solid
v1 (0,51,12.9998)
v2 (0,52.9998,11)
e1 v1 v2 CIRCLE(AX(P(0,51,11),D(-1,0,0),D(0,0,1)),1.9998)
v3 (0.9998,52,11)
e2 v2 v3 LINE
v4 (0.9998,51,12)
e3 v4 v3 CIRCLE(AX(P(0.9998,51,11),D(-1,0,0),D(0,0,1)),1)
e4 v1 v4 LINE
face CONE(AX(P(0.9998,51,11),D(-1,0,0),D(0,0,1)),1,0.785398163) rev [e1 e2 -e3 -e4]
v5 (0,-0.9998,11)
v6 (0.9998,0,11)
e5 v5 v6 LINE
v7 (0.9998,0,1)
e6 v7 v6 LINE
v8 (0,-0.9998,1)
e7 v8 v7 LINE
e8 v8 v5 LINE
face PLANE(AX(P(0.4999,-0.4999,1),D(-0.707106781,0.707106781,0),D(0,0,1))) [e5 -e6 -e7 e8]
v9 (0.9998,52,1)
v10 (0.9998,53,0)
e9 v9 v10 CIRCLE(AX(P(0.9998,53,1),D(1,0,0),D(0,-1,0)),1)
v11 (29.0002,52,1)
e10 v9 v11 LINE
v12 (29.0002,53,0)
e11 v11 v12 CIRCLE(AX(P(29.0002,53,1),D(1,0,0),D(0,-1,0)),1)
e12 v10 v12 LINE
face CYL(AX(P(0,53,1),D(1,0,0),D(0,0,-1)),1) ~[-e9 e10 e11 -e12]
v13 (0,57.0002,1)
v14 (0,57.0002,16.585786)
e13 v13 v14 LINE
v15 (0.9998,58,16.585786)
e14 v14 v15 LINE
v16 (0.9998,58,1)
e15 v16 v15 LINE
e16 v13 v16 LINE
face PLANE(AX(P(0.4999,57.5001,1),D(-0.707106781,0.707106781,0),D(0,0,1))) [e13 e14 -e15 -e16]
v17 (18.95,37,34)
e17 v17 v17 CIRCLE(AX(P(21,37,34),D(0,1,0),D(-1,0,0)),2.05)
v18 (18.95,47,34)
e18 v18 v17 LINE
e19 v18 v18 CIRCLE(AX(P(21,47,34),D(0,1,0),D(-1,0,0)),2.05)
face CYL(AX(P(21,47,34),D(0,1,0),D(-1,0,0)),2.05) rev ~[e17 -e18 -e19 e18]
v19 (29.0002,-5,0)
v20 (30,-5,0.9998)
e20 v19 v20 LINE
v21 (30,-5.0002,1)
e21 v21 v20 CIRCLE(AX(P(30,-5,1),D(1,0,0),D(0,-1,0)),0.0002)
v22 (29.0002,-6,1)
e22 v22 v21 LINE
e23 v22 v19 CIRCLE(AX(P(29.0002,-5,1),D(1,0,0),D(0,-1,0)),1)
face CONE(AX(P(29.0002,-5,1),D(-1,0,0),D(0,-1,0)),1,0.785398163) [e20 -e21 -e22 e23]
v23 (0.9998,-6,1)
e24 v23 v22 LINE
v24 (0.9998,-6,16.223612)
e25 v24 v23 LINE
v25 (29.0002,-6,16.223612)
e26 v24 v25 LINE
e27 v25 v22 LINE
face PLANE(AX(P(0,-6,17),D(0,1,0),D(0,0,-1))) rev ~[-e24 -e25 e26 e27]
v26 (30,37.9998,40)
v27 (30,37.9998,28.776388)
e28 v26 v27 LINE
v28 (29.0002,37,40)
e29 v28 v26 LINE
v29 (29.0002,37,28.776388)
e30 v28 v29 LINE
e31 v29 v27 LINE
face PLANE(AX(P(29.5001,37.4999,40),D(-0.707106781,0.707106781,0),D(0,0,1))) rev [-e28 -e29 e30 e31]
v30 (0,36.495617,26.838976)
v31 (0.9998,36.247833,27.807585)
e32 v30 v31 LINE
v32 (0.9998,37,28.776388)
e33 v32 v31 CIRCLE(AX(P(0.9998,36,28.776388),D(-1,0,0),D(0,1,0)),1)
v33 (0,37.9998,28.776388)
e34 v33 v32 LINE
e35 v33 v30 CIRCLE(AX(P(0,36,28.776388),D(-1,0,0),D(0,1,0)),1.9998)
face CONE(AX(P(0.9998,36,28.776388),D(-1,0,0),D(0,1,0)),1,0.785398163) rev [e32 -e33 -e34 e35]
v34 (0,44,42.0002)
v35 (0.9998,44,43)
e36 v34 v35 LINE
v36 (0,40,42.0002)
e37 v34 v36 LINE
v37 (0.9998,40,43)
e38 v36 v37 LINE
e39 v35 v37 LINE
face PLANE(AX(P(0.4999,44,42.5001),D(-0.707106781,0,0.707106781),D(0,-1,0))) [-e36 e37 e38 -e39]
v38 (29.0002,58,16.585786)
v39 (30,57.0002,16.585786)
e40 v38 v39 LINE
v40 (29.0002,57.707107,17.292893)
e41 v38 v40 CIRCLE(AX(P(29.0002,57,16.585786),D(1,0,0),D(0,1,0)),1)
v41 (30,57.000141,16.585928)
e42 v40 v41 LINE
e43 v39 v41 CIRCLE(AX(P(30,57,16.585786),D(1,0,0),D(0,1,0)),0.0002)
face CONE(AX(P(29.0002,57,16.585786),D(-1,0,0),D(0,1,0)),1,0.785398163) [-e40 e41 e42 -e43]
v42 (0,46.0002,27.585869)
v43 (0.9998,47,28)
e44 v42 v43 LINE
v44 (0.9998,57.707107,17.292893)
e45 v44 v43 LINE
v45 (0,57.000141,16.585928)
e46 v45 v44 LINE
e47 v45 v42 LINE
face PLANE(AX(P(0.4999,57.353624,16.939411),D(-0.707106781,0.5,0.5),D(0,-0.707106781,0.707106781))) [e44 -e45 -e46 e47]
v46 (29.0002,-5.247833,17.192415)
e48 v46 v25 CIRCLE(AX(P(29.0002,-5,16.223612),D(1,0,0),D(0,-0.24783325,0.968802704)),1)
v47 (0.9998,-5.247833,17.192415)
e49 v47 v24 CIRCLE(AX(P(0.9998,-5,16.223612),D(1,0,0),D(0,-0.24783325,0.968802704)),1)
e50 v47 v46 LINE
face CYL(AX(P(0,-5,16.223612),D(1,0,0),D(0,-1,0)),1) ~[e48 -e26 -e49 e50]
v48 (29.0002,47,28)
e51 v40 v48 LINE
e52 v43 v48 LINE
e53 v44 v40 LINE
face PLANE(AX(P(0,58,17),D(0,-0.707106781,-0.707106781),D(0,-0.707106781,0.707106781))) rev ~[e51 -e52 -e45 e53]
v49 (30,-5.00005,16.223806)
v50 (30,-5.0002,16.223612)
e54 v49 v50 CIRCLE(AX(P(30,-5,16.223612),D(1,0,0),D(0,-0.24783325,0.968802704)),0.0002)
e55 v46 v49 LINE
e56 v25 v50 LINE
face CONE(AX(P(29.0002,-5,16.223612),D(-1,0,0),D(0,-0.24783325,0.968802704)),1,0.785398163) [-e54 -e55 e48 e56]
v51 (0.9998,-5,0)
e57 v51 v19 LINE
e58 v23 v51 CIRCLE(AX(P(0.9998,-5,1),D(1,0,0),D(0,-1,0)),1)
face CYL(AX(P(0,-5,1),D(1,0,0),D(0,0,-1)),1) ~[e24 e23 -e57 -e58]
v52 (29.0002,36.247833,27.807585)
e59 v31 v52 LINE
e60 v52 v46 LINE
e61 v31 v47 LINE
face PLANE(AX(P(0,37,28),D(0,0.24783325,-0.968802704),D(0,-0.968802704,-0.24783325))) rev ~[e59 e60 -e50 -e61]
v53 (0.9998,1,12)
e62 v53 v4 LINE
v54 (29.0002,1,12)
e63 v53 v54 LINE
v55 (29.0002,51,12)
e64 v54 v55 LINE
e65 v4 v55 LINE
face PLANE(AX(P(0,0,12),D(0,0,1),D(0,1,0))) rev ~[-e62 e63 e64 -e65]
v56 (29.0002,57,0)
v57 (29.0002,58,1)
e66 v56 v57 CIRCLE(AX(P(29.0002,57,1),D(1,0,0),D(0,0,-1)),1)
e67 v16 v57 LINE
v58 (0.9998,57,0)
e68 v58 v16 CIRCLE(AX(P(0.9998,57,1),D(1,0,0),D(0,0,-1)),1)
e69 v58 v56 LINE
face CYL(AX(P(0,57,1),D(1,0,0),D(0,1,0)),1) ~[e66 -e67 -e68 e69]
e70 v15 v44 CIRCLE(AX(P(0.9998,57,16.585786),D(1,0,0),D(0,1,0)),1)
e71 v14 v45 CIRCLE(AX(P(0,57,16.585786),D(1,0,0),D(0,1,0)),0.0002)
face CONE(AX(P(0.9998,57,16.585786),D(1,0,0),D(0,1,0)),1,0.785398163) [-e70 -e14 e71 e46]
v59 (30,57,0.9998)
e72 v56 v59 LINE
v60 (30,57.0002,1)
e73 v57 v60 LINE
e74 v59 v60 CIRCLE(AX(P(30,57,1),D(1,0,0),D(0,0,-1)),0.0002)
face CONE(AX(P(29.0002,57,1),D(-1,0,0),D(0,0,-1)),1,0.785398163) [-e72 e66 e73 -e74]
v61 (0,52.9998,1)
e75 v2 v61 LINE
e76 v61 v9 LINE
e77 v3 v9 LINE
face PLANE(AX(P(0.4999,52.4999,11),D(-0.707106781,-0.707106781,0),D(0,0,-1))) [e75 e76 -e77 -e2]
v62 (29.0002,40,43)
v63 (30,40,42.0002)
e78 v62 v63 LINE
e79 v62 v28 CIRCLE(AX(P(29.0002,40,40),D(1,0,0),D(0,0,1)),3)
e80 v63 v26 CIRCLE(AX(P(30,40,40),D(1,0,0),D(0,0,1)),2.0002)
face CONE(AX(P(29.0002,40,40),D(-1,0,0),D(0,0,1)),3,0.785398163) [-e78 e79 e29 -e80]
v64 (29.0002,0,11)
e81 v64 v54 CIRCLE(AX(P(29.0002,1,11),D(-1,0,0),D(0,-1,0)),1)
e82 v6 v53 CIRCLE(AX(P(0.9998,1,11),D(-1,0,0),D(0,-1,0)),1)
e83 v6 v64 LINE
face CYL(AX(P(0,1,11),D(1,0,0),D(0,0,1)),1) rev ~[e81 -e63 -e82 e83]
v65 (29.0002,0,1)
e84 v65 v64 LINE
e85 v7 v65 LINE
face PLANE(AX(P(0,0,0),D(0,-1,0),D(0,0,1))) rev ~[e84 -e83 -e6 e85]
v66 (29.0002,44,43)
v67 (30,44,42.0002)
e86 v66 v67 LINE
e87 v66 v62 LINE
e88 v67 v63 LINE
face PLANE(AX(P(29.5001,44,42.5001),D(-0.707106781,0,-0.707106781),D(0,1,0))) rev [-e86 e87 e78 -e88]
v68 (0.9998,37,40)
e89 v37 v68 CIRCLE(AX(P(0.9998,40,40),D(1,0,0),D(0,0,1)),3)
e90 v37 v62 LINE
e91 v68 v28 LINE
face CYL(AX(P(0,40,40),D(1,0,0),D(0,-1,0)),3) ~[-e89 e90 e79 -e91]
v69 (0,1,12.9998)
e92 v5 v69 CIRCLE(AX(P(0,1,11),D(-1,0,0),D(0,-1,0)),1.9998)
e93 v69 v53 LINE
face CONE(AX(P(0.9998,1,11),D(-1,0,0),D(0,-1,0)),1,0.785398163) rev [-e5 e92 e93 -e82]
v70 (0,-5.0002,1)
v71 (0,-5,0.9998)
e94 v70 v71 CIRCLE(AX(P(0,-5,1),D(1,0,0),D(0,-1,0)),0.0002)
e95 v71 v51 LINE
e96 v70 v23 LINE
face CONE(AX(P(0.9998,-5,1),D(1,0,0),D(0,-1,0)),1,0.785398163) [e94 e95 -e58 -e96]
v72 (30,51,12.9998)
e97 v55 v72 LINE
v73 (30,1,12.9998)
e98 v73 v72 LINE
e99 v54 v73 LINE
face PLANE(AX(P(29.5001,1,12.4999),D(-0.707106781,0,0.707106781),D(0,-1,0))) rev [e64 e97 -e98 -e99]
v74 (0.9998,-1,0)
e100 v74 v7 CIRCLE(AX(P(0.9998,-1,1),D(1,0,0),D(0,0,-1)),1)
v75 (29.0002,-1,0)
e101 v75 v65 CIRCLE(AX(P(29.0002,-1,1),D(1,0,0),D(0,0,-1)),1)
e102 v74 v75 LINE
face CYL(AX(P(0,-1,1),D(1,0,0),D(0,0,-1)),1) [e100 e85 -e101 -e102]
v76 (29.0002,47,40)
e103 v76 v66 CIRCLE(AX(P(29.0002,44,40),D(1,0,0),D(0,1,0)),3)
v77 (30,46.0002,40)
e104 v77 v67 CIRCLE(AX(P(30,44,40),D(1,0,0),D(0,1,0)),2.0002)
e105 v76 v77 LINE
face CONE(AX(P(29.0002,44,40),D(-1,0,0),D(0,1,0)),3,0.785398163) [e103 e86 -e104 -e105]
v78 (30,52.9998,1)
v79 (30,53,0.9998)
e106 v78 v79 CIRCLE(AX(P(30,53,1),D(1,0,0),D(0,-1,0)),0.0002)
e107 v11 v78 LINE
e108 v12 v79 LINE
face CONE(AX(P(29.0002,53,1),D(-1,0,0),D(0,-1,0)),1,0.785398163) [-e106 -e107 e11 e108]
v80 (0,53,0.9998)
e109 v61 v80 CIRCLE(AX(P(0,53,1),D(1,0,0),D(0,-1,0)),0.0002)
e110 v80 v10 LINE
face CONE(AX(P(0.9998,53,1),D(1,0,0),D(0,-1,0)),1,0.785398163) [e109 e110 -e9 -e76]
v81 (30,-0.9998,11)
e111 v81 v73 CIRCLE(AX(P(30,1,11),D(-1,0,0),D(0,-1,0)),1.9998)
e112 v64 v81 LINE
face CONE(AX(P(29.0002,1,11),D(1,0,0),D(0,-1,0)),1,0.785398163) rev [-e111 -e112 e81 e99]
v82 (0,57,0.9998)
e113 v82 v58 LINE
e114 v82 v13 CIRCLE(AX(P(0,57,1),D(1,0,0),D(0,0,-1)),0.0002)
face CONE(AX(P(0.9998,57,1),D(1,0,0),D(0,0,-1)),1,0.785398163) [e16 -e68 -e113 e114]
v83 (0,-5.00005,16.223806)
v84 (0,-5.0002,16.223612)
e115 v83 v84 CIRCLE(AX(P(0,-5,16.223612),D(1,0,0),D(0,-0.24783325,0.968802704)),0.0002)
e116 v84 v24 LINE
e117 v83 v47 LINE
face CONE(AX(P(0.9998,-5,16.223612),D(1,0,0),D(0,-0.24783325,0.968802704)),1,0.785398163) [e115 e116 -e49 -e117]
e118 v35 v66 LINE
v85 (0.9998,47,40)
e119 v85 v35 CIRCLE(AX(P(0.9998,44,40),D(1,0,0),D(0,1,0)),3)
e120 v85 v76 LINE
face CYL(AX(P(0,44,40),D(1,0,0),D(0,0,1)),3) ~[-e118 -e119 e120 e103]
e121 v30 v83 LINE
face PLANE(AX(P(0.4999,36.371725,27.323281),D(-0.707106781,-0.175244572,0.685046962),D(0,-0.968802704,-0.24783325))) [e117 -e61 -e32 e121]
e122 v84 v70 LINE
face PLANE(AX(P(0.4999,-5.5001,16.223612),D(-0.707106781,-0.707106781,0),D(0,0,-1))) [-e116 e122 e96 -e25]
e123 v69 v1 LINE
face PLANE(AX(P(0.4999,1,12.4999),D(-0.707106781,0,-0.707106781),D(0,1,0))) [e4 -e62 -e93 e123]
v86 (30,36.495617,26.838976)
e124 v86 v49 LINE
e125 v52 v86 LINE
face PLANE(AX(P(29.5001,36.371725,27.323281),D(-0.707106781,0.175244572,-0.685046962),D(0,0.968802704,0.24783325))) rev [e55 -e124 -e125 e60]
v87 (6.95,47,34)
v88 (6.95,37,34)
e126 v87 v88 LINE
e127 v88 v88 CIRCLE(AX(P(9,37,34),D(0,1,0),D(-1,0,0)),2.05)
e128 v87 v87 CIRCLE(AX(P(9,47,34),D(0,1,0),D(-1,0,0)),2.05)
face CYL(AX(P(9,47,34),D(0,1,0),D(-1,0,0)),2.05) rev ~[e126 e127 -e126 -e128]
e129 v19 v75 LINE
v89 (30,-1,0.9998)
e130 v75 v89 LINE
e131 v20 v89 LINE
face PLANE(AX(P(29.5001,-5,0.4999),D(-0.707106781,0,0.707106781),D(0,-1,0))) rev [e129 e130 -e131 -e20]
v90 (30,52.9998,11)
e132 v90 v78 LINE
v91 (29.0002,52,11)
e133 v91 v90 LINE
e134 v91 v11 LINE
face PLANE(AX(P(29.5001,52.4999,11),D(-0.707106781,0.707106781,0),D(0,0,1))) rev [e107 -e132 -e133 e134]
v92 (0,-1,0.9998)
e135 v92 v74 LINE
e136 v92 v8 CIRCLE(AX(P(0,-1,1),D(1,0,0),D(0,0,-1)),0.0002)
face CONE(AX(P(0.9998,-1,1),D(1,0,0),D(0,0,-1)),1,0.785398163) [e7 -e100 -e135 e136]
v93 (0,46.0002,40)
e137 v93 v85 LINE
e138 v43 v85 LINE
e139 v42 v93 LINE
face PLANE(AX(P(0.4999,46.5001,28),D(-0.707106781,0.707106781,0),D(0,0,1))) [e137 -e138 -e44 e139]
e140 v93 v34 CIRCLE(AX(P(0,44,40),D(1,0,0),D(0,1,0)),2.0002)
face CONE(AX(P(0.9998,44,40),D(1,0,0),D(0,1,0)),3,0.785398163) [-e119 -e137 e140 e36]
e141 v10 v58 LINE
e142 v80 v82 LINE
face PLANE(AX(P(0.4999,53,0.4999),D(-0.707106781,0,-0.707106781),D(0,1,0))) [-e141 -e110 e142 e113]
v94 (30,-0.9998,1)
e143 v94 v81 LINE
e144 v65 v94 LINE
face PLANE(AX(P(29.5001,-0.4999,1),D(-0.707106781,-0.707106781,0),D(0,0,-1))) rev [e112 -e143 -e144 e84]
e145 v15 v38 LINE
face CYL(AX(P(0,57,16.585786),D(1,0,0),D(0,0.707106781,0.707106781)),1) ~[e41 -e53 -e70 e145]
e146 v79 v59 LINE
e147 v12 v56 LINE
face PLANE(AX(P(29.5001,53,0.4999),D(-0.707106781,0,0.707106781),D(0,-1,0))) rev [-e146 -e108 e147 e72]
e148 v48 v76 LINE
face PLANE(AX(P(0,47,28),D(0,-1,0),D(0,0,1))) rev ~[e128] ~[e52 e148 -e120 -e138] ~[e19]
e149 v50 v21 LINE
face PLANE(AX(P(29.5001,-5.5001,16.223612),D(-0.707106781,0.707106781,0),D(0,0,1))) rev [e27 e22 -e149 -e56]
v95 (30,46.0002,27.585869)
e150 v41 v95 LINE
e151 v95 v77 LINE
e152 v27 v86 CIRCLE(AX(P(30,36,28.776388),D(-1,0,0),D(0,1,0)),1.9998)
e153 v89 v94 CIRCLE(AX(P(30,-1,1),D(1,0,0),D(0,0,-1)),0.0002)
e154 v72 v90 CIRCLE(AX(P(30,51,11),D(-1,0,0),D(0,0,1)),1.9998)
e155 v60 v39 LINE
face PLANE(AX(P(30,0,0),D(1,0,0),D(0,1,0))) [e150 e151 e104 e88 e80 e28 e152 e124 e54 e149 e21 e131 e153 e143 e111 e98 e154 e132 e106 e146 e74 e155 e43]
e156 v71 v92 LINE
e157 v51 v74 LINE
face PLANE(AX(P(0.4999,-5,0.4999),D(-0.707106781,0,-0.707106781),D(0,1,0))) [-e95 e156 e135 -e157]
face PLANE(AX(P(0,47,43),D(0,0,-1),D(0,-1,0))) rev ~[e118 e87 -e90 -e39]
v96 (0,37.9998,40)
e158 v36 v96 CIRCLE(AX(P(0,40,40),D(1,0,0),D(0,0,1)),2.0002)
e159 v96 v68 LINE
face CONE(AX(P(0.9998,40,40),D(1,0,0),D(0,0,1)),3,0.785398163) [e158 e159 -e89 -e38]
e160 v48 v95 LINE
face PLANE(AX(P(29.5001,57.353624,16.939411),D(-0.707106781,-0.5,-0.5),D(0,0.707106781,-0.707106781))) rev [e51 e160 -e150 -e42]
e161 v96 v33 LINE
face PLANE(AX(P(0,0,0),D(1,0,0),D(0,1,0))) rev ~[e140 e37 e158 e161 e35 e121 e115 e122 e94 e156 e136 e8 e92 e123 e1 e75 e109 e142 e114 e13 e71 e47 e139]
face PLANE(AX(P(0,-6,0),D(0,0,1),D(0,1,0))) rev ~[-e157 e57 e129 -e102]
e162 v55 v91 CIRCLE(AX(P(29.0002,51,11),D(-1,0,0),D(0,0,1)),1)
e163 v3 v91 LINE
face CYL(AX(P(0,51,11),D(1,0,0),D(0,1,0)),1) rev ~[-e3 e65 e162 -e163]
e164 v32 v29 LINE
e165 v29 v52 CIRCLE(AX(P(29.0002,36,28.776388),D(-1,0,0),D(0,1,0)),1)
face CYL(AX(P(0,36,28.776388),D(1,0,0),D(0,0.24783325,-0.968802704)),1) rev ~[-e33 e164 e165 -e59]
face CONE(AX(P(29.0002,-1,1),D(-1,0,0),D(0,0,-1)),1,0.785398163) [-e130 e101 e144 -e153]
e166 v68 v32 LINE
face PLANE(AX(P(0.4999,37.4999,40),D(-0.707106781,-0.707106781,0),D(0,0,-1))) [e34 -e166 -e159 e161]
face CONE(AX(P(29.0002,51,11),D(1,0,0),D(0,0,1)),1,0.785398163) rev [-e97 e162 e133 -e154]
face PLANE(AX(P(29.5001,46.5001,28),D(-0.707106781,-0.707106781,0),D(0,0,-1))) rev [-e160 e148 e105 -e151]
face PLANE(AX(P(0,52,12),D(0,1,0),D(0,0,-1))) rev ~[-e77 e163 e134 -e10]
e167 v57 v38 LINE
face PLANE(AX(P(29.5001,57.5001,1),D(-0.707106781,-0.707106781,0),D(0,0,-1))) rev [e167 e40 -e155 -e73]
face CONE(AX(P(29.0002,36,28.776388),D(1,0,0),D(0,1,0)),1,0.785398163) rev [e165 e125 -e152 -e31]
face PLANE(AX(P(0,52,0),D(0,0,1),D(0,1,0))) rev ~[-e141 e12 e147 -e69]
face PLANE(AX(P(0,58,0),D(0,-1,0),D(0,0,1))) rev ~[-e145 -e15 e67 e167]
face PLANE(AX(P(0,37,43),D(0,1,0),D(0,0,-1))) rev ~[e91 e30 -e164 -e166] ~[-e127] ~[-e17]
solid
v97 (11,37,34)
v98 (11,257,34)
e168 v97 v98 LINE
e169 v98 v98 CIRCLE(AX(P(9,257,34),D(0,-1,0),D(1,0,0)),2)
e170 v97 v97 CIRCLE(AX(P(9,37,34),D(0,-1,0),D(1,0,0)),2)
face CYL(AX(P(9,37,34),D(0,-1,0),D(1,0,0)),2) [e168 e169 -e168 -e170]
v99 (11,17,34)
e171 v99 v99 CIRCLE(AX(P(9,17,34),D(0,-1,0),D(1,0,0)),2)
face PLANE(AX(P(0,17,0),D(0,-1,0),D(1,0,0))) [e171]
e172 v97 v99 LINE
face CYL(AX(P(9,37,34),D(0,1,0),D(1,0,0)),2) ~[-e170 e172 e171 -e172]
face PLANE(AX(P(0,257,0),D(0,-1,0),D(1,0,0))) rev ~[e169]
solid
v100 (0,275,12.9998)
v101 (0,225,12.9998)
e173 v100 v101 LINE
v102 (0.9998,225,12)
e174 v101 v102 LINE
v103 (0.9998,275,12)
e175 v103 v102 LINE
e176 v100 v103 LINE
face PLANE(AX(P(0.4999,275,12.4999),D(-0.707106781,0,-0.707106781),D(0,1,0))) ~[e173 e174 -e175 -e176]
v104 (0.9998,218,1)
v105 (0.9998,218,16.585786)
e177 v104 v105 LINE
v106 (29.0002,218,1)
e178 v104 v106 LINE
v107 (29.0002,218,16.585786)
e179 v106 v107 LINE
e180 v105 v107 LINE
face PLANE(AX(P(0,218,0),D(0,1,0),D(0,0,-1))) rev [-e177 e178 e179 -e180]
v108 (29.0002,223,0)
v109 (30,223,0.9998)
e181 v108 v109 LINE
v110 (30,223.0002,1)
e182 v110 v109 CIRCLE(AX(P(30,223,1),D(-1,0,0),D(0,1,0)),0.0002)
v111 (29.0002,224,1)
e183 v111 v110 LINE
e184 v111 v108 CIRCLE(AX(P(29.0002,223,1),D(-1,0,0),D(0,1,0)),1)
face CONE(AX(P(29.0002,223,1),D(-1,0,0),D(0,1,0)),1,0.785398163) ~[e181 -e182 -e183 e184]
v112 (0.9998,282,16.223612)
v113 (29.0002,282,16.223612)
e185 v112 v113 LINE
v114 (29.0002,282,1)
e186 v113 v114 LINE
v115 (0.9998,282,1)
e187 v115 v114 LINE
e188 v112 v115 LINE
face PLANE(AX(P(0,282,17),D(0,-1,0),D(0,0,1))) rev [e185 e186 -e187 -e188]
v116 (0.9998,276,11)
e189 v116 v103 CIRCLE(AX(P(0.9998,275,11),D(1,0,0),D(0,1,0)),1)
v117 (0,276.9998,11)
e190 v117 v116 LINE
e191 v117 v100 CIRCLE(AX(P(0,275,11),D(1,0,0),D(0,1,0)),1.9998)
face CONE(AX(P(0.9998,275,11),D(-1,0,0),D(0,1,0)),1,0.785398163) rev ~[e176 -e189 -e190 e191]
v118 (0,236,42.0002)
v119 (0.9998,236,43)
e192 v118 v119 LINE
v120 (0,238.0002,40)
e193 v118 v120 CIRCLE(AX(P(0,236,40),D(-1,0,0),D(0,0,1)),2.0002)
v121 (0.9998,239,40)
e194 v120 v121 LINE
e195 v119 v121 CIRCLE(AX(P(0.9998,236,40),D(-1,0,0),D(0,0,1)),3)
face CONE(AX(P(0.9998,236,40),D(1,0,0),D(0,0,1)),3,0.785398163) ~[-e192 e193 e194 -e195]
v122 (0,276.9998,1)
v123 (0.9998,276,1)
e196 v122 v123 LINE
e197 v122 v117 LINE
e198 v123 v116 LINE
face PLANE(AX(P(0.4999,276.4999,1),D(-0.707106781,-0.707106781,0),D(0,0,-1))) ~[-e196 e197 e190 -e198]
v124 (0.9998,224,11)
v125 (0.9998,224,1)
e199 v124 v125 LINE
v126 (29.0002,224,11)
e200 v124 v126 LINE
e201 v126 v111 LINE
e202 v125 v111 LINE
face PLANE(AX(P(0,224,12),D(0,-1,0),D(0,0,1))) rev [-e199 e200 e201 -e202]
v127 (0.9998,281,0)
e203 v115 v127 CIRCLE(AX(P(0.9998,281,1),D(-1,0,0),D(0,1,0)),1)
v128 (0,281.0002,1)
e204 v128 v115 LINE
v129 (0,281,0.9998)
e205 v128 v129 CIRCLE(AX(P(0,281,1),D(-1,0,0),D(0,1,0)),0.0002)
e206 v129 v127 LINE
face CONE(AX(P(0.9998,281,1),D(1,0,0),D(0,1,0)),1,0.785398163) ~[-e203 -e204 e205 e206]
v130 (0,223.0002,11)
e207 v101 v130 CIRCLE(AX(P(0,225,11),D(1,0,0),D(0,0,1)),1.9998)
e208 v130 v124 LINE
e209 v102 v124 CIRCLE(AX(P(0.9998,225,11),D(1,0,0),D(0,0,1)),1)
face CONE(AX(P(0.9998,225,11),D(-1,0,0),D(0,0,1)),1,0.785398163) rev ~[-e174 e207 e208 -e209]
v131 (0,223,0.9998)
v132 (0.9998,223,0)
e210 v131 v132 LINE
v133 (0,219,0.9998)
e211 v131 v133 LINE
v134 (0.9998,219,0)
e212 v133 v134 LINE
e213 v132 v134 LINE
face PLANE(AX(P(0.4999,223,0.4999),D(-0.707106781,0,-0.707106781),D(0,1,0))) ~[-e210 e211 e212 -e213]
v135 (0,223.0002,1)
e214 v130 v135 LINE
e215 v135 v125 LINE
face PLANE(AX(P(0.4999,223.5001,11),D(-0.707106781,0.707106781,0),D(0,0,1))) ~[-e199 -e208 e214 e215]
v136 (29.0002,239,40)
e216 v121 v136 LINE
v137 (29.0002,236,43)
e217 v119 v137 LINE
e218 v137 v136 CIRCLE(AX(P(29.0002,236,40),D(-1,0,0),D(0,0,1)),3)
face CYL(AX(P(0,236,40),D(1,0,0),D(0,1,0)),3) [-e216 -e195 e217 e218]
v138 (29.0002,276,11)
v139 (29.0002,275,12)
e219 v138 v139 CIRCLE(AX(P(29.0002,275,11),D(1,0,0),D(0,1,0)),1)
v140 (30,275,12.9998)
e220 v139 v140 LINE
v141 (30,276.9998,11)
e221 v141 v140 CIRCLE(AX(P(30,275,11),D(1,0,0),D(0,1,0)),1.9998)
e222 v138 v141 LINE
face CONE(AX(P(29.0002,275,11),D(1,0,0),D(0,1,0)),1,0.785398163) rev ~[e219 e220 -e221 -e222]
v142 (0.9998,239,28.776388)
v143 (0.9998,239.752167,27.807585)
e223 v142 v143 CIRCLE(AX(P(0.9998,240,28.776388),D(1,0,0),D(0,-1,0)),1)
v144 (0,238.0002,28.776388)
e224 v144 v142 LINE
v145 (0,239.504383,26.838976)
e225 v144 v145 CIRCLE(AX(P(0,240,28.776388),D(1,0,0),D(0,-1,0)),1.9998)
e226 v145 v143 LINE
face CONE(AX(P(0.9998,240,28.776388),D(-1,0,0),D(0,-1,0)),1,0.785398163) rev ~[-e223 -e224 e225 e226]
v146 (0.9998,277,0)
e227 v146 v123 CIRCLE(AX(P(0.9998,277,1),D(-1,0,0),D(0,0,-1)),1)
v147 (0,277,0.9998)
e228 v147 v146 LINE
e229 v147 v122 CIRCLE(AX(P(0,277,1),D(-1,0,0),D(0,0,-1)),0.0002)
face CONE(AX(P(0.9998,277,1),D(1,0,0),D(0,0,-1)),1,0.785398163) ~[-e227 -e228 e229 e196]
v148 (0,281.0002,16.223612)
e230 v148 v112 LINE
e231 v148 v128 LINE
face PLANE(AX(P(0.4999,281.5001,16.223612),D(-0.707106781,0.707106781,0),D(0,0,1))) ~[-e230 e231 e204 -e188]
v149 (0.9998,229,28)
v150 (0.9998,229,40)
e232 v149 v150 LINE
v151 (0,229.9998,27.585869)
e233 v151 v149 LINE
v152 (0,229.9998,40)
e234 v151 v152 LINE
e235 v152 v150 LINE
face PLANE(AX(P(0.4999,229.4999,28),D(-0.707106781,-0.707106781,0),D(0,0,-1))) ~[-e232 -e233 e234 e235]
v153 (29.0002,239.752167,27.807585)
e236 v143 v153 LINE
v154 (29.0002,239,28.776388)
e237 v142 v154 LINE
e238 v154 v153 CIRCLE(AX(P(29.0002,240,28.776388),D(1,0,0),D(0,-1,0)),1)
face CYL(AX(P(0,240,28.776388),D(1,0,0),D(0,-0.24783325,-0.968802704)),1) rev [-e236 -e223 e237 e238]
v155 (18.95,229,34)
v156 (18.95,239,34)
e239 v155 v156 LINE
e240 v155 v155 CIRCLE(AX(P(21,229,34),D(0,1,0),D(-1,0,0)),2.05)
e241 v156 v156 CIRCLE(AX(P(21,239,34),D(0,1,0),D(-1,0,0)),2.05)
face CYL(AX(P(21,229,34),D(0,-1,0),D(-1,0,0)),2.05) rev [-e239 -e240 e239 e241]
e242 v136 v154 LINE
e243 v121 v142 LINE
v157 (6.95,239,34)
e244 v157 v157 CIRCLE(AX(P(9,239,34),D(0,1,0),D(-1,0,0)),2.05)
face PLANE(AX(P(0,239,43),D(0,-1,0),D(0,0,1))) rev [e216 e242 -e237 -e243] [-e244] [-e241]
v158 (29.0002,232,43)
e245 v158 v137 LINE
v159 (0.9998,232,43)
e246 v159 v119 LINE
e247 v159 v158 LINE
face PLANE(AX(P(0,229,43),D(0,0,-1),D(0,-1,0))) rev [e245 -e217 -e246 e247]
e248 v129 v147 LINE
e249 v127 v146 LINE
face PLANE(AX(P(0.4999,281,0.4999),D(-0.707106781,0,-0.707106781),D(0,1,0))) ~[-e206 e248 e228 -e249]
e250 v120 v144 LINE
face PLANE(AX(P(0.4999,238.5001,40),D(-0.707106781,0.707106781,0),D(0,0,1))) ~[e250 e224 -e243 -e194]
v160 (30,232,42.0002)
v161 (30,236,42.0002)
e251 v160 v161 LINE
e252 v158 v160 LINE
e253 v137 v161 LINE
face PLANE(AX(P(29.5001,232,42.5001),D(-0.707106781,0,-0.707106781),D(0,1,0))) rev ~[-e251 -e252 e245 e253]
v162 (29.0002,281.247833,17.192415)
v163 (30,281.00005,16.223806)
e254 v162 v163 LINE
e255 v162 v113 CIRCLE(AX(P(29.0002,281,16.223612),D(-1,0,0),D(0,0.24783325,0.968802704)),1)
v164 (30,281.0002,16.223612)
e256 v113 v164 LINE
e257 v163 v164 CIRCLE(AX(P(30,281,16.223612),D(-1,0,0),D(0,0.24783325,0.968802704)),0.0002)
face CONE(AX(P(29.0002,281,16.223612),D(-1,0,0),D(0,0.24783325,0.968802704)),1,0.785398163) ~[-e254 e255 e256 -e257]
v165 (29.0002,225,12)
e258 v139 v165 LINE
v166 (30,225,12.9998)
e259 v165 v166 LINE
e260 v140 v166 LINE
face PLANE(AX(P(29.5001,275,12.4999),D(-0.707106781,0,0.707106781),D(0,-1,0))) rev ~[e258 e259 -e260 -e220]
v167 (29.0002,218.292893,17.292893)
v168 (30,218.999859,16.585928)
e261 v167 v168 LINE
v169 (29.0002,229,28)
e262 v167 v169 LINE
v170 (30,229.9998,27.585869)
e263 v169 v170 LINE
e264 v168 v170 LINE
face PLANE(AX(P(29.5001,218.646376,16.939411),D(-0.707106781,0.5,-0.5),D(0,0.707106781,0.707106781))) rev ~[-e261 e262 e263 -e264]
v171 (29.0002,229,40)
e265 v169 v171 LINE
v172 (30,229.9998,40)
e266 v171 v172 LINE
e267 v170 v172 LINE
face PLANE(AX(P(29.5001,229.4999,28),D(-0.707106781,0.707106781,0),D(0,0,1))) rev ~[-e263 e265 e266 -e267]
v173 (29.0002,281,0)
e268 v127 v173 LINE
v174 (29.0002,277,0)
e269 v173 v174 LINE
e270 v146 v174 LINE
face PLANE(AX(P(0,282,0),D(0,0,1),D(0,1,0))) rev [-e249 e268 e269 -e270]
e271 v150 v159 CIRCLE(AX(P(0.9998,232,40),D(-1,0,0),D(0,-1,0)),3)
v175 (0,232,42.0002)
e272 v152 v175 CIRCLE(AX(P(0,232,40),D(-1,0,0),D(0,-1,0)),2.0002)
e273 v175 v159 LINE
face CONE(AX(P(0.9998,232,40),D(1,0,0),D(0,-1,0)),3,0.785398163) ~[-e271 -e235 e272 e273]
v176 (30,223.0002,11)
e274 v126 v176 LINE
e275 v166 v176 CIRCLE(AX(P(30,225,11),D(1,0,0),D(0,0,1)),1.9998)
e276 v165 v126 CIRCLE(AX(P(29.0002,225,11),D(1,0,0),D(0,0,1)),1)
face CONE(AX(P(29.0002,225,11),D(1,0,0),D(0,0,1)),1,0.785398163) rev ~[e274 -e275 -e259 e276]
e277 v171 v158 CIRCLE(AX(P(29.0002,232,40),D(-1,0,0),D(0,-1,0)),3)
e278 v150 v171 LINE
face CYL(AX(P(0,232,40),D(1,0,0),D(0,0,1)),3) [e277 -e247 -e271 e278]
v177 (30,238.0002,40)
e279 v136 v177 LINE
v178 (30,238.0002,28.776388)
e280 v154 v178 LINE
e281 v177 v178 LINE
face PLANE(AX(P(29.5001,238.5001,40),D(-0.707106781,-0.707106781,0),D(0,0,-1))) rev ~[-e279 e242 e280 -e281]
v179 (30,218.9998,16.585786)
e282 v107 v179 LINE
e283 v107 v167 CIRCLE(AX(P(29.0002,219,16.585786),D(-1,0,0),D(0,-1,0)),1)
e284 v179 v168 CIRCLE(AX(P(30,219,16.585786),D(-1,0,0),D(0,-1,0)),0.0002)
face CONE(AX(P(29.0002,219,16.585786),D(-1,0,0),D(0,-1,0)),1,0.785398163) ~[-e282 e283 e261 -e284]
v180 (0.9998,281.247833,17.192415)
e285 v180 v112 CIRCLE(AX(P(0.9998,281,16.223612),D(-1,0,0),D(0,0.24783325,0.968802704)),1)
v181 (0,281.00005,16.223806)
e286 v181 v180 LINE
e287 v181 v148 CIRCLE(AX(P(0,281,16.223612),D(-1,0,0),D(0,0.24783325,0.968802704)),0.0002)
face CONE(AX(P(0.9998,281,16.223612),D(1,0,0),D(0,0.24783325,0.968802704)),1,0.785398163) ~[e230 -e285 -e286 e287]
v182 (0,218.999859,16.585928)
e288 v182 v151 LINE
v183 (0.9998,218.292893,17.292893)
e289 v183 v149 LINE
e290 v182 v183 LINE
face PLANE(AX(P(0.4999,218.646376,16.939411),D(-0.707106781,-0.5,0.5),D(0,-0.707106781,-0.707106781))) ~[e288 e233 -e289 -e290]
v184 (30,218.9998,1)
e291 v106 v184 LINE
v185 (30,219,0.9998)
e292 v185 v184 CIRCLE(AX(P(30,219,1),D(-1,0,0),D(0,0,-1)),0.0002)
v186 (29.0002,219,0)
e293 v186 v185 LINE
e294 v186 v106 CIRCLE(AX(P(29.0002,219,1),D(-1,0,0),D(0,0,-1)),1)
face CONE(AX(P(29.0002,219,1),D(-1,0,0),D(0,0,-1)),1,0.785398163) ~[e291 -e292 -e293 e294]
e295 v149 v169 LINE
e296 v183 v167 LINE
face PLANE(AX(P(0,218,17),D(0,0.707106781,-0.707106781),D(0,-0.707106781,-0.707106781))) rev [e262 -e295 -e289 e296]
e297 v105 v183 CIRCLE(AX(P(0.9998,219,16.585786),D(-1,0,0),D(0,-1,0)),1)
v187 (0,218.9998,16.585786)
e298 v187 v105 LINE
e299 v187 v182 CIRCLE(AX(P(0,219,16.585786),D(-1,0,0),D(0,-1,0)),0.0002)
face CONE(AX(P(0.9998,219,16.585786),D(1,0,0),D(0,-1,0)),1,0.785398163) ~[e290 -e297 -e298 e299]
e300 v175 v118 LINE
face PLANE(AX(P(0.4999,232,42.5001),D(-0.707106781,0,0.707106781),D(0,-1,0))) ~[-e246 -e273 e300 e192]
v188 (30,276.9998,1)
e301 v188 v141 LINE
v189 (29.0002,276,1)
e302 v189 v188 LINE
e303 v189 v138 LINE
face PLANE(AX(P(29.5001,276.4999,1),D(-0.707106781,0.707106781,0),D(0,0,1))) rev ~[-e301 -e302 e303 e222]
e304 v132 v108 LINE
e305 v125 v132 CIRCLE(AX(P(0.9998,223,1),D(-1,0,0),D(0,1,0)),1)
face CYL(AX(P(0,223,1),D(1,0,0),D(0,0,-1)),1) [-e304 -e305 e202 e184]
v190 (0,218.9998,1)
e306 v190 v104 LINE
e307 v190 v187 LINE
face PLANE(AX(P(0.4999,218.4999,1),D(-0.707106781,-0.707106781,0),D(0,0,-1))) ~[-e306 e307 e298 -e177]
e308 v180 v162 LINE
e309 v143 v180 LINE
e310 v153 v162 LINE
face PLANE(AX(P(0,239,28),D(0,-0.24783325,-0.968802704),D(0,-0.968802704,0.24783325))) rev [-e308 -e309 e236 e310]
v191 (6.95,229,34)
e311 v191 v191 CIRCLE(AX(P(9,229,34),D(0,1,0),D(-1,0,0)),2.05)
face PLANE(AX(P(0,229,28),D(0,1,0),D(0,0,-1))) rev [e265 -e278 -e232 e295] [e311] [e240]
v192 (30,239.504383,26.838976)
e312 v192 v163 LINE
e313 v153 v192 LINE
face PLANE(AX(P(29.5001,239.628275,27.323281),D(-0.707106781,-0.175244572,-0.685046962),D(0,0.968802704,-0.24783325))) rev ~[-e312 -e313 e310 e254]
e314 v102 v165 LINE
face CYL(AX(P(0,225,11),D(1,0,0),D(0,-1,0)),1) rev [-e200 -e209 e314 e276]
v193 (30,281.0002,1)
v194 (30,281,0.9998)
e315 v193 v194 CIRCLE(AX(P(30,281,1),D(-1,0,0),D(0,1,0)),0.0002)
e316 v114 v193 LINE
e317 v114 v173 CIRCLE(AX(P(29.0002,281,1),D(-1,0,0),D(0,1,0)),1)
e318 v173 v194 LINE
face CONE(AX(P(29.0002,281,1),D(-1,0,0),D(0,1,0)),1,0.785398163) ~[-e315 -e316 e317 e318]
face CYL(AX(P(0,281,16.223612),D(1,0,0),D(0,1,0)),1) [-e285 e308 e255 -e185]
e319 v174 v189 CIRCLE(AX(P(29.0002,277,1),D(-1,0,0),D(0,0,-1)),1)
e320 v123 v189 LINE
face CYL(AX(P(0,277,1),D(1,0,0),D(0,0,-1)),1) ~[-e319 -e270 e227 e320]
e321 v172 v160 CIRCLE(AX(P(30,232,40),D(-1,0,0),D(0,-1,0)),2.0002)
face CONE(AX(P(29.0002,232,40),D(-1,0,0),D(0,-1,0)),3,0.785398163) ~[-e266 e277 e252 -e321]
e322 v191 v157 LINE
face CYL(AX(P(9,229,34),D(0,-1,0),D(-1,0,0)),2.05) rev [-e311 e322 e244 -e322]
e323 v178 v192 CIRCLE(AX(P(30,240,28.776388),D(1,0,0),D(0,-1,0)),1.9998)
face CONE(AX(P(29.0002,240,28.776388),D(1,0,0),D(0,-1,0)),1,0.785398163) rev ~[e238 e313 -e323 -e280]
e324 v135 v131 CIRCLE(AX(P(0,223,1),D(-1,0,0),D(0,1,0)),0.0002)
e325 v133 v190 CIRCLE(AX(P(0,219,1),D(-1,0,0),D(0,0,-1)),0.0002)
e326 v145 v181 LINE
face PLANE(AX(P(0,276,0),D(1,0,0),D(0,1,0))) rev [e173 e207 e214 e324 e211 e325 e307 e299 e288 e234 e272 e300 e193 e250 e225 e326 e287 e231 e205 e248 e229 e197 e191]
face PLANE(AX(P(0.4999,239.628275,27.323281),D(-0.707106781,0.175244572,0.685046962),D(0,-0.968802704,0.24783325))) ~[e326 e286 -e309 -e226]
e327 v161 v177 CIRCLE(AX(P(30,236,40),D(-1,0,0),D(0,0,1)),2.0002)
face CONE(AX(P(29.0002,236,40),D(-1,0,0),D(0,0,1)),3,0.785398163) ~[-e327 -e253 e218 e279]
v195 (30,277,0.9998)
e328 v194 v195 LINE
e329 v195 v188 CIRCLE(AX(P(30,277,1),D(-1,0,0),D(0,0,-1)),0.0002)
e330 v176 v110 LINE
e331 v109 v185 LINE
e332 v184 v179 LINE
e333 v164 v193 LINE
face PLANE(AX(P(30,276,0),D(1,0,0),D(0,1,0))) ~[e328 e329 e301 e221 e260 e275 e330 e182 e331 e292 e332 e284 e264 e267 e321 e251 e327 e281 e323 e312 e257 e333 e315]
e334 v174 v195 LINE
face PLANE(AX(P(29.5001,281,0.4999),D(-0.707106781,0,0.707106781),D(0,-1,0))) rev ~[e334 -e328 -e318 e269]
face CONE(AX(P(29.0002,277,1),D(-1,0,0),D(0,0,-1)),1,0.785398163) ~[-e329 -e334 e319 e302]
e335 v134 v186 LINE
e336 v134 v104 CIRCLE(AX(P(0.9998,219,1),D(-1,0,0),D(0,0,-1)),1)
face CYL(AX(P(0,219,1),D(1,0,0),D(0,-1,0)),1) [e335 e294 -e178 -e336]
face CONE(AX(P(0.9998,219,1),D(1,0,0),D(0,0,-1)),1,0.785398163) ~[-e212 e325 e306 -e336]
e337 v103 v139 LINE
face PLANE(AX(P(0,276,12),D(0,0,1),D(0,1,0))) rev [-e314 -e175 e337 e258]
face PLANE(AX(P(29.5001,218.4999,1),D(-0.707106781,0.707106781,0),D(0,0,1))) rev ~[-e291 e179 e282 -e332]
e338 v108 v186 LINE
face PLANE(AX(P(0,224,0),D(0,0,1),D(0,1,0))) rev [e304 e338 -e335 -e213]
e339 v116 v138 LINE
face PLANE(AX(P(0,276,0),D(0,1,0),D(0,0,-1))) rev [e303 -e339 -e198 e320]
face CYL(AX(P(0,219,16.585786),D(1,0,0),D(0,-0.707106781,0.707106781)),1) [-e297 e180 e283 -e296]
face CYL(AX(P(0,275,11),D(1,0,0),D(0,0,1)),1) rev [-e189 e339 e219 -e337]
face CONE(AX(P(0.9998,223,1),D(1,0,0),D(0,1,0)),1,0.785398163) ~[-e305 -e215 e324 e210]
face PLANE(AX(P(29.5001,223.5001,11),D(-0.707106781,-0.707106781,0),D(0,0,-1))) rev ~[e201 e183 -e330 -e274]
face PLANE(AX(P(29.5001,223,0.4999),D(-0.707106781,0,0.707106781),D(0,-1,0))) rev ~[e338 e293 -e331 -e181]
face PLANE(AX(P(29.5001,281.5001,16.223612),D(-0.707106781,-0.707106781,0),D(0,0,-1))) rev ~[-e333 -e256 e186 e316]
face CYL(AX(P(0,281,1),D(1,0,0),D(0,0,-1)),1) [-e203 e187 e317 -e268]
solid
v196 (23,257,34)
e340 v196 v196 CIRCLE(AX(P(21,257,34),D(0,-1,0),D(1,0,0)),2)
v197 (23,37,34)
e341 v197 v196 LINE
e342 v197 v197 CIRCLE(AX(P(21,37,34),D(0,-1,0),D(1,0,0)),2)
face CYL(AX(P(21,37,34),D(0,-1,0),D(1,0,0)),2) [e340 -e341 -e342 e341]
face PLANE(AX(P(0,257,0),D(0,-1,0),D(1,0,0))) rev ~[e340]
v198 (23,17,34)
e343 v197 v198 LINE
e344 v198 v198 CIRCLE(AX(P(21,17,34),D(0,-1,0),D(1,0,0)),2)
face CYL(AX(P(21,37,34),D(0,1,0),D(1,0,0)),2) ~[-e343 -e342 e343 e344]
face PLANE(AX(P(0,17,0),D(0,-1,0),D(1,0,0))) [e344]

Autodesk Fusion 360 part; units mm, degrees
sketch "Sketch1" plane through (0, 0, 0) normal (1, 0, 0) x (0, 1, 0)
  line L0 (0, 0) -> (0, 12)
  line L1 (0, 12) -> (52, 12)
  line L2 (52, 12) -> (52, 0)
  line L3 (52, 0) -> (58, 0)
  line L4 (58, 0) -> (58, 17)
  line L5 (58, 17) -> (47, 28)
  line L6 (47, 28) -> (47, 43)
  line L7 (47, 43) -> (37, 43)
  line L8 (37, 43) -> (37, 28)
  line L9 (37, 28) -> (-6, 17)
  line L10 (-6, 17) -> (-6, 0)
  line L11 (-6, 0) -> (0, 0)
  dimension "d1" = 10
  dimension "d2" = 6
  dimension "d3" = 52
  dimension "d4" = 15
  dimension "d5" = 12
  dimension "d6" = 5
  dimension "d7" = 135
  dimension "d8" = 5
extrude "Extrude1" add sketch "Sketch1" along normal blind 30 makes body 1
fillet "Fillet1" radius 1 9 edges at (15, 0, 12) (15, -6, 17) (15, -6, 0) (15, 0, 0) (15, 52, 12) (15, 58, 17) (15, 37, 28) (15, 52, 0) (15, 58, 0) on bodies 1
fillet "Fillet2" radius 3 2 edges at (15, 37, 43) (15, 47, 43) on bodies 1
chamfer "Chamfer1" distance 1 angle 45 46 edges at (30, 15.5, 22.5) (30, -5.7899, 16.8369) (30, -6, 8.6118) (30, -5.7071, 0.2929) (30, -3, 0) (30, -0.2929, 0.2929) (30, 0, 6) (30, 0.2929, 11.7071) (30, 26, 12) (30, 51.7071, 11.7071) (30, 52, 6) (30, 52.2929, 0.2929) (30, 55, 0) (30, 57.7071, 0.2929) (30, 58, 8.7929) (30, 57.9239, 16.9685) (30, 52.3536, 22.6464) (30, 47, 34) (30, 46.1213, 42.1213) (30, 42, 43) (30, 37.8787, 42.1213) (30, 37, 34.3882) (30, 36.7899, 28.1631) (0, 15.5, 22.5) (0, -5.7899, 16.8369) (0, -6, 8.6118) (0, -5.7071, 0.2929) (0, -3, 0) (0, -0.2929, 0.2929) (0, 0, 6) (0, 0.2929, 11.7071) (0, 26, 12) (0, 51.7071, 11.7071) (0, 52, 6) (0, 52.2929, 0.2929) (0, 55, 0) (0, 57.7071, 0.2929) (0, 58, 8.7929) (0, 57.9239, 16.9685) (0, 52.3536, 22.6464) (0, 47, 34) (0, 46.1213, 42.1213) (0, 42, 43) (0, 37.8787, 42.1213) (0, 37, 34.3882) (0, 36.7899, 28.1631) on bodies 1
sketch "Sketch2" plane through (0, 47, 0) normal (0, 1, 0) x (-1, 0, 0)
  line L0 (-1, 28) -> (-1, 40)
  line L1 (-1, 40) -> (-29, 40)
  line L2 (-29, 40) -> (-29, 28)
  line L3 (-29, 28) -> (-1, 28)
  circle A0 centre (-9, 34) radius 2.05
  line L4 (-29, 34) -> (-1, 34) construction
  circle A1 centre (-21, 34) radius 2.05
  line L5 (-15, 34) -> (-15, 40) construction
  dimension "d16" = 4.1
  dimension "d17" = 12
extrude "Extrude2" cut sketch "Sketch2" against normal blind 18 contours A0 | A1 bodies 1
ref_plane "WorkPlane1" through (15, 138, 8.7929) normal (0, 1, 0) x (0, 0, 1)
mirror "Mirror1" about plane through (15, 138, 8.7929) normal (0, 1, 0) of bodies 1 makes body 2
sketch "Sketch3" plane through (0, 37, 0) normal (0, -1, 0) x (1, 0, 0)
  circle A0 centre (21, 34) radius 2.05
  circle A1 centre (9, 34) radius 2.05
  line L0 (1, 40) -> (1, 28.7764)
  line L1 (1, 28.7764) -> (29, 28.7764)
  line L2 (29, 28.7764) -> (29, 40)
  line L3 (29, 40) -> (1, 40)
  circle A2 centre (9, 34) radius 2
  circle A3 centre (21, 34) radius 2
  dimension "d23" = 4
  dimension "d24" = 4
extrude "Extrude3" add sketch "Sketch3" along normal blind 20 and the other way blind 220 separate body contours A2 | A3 makes body 3 at (10.9171, 183.6667, 33.4302) makes body 4 at (22.7498, 183.6667, 34.9686)
